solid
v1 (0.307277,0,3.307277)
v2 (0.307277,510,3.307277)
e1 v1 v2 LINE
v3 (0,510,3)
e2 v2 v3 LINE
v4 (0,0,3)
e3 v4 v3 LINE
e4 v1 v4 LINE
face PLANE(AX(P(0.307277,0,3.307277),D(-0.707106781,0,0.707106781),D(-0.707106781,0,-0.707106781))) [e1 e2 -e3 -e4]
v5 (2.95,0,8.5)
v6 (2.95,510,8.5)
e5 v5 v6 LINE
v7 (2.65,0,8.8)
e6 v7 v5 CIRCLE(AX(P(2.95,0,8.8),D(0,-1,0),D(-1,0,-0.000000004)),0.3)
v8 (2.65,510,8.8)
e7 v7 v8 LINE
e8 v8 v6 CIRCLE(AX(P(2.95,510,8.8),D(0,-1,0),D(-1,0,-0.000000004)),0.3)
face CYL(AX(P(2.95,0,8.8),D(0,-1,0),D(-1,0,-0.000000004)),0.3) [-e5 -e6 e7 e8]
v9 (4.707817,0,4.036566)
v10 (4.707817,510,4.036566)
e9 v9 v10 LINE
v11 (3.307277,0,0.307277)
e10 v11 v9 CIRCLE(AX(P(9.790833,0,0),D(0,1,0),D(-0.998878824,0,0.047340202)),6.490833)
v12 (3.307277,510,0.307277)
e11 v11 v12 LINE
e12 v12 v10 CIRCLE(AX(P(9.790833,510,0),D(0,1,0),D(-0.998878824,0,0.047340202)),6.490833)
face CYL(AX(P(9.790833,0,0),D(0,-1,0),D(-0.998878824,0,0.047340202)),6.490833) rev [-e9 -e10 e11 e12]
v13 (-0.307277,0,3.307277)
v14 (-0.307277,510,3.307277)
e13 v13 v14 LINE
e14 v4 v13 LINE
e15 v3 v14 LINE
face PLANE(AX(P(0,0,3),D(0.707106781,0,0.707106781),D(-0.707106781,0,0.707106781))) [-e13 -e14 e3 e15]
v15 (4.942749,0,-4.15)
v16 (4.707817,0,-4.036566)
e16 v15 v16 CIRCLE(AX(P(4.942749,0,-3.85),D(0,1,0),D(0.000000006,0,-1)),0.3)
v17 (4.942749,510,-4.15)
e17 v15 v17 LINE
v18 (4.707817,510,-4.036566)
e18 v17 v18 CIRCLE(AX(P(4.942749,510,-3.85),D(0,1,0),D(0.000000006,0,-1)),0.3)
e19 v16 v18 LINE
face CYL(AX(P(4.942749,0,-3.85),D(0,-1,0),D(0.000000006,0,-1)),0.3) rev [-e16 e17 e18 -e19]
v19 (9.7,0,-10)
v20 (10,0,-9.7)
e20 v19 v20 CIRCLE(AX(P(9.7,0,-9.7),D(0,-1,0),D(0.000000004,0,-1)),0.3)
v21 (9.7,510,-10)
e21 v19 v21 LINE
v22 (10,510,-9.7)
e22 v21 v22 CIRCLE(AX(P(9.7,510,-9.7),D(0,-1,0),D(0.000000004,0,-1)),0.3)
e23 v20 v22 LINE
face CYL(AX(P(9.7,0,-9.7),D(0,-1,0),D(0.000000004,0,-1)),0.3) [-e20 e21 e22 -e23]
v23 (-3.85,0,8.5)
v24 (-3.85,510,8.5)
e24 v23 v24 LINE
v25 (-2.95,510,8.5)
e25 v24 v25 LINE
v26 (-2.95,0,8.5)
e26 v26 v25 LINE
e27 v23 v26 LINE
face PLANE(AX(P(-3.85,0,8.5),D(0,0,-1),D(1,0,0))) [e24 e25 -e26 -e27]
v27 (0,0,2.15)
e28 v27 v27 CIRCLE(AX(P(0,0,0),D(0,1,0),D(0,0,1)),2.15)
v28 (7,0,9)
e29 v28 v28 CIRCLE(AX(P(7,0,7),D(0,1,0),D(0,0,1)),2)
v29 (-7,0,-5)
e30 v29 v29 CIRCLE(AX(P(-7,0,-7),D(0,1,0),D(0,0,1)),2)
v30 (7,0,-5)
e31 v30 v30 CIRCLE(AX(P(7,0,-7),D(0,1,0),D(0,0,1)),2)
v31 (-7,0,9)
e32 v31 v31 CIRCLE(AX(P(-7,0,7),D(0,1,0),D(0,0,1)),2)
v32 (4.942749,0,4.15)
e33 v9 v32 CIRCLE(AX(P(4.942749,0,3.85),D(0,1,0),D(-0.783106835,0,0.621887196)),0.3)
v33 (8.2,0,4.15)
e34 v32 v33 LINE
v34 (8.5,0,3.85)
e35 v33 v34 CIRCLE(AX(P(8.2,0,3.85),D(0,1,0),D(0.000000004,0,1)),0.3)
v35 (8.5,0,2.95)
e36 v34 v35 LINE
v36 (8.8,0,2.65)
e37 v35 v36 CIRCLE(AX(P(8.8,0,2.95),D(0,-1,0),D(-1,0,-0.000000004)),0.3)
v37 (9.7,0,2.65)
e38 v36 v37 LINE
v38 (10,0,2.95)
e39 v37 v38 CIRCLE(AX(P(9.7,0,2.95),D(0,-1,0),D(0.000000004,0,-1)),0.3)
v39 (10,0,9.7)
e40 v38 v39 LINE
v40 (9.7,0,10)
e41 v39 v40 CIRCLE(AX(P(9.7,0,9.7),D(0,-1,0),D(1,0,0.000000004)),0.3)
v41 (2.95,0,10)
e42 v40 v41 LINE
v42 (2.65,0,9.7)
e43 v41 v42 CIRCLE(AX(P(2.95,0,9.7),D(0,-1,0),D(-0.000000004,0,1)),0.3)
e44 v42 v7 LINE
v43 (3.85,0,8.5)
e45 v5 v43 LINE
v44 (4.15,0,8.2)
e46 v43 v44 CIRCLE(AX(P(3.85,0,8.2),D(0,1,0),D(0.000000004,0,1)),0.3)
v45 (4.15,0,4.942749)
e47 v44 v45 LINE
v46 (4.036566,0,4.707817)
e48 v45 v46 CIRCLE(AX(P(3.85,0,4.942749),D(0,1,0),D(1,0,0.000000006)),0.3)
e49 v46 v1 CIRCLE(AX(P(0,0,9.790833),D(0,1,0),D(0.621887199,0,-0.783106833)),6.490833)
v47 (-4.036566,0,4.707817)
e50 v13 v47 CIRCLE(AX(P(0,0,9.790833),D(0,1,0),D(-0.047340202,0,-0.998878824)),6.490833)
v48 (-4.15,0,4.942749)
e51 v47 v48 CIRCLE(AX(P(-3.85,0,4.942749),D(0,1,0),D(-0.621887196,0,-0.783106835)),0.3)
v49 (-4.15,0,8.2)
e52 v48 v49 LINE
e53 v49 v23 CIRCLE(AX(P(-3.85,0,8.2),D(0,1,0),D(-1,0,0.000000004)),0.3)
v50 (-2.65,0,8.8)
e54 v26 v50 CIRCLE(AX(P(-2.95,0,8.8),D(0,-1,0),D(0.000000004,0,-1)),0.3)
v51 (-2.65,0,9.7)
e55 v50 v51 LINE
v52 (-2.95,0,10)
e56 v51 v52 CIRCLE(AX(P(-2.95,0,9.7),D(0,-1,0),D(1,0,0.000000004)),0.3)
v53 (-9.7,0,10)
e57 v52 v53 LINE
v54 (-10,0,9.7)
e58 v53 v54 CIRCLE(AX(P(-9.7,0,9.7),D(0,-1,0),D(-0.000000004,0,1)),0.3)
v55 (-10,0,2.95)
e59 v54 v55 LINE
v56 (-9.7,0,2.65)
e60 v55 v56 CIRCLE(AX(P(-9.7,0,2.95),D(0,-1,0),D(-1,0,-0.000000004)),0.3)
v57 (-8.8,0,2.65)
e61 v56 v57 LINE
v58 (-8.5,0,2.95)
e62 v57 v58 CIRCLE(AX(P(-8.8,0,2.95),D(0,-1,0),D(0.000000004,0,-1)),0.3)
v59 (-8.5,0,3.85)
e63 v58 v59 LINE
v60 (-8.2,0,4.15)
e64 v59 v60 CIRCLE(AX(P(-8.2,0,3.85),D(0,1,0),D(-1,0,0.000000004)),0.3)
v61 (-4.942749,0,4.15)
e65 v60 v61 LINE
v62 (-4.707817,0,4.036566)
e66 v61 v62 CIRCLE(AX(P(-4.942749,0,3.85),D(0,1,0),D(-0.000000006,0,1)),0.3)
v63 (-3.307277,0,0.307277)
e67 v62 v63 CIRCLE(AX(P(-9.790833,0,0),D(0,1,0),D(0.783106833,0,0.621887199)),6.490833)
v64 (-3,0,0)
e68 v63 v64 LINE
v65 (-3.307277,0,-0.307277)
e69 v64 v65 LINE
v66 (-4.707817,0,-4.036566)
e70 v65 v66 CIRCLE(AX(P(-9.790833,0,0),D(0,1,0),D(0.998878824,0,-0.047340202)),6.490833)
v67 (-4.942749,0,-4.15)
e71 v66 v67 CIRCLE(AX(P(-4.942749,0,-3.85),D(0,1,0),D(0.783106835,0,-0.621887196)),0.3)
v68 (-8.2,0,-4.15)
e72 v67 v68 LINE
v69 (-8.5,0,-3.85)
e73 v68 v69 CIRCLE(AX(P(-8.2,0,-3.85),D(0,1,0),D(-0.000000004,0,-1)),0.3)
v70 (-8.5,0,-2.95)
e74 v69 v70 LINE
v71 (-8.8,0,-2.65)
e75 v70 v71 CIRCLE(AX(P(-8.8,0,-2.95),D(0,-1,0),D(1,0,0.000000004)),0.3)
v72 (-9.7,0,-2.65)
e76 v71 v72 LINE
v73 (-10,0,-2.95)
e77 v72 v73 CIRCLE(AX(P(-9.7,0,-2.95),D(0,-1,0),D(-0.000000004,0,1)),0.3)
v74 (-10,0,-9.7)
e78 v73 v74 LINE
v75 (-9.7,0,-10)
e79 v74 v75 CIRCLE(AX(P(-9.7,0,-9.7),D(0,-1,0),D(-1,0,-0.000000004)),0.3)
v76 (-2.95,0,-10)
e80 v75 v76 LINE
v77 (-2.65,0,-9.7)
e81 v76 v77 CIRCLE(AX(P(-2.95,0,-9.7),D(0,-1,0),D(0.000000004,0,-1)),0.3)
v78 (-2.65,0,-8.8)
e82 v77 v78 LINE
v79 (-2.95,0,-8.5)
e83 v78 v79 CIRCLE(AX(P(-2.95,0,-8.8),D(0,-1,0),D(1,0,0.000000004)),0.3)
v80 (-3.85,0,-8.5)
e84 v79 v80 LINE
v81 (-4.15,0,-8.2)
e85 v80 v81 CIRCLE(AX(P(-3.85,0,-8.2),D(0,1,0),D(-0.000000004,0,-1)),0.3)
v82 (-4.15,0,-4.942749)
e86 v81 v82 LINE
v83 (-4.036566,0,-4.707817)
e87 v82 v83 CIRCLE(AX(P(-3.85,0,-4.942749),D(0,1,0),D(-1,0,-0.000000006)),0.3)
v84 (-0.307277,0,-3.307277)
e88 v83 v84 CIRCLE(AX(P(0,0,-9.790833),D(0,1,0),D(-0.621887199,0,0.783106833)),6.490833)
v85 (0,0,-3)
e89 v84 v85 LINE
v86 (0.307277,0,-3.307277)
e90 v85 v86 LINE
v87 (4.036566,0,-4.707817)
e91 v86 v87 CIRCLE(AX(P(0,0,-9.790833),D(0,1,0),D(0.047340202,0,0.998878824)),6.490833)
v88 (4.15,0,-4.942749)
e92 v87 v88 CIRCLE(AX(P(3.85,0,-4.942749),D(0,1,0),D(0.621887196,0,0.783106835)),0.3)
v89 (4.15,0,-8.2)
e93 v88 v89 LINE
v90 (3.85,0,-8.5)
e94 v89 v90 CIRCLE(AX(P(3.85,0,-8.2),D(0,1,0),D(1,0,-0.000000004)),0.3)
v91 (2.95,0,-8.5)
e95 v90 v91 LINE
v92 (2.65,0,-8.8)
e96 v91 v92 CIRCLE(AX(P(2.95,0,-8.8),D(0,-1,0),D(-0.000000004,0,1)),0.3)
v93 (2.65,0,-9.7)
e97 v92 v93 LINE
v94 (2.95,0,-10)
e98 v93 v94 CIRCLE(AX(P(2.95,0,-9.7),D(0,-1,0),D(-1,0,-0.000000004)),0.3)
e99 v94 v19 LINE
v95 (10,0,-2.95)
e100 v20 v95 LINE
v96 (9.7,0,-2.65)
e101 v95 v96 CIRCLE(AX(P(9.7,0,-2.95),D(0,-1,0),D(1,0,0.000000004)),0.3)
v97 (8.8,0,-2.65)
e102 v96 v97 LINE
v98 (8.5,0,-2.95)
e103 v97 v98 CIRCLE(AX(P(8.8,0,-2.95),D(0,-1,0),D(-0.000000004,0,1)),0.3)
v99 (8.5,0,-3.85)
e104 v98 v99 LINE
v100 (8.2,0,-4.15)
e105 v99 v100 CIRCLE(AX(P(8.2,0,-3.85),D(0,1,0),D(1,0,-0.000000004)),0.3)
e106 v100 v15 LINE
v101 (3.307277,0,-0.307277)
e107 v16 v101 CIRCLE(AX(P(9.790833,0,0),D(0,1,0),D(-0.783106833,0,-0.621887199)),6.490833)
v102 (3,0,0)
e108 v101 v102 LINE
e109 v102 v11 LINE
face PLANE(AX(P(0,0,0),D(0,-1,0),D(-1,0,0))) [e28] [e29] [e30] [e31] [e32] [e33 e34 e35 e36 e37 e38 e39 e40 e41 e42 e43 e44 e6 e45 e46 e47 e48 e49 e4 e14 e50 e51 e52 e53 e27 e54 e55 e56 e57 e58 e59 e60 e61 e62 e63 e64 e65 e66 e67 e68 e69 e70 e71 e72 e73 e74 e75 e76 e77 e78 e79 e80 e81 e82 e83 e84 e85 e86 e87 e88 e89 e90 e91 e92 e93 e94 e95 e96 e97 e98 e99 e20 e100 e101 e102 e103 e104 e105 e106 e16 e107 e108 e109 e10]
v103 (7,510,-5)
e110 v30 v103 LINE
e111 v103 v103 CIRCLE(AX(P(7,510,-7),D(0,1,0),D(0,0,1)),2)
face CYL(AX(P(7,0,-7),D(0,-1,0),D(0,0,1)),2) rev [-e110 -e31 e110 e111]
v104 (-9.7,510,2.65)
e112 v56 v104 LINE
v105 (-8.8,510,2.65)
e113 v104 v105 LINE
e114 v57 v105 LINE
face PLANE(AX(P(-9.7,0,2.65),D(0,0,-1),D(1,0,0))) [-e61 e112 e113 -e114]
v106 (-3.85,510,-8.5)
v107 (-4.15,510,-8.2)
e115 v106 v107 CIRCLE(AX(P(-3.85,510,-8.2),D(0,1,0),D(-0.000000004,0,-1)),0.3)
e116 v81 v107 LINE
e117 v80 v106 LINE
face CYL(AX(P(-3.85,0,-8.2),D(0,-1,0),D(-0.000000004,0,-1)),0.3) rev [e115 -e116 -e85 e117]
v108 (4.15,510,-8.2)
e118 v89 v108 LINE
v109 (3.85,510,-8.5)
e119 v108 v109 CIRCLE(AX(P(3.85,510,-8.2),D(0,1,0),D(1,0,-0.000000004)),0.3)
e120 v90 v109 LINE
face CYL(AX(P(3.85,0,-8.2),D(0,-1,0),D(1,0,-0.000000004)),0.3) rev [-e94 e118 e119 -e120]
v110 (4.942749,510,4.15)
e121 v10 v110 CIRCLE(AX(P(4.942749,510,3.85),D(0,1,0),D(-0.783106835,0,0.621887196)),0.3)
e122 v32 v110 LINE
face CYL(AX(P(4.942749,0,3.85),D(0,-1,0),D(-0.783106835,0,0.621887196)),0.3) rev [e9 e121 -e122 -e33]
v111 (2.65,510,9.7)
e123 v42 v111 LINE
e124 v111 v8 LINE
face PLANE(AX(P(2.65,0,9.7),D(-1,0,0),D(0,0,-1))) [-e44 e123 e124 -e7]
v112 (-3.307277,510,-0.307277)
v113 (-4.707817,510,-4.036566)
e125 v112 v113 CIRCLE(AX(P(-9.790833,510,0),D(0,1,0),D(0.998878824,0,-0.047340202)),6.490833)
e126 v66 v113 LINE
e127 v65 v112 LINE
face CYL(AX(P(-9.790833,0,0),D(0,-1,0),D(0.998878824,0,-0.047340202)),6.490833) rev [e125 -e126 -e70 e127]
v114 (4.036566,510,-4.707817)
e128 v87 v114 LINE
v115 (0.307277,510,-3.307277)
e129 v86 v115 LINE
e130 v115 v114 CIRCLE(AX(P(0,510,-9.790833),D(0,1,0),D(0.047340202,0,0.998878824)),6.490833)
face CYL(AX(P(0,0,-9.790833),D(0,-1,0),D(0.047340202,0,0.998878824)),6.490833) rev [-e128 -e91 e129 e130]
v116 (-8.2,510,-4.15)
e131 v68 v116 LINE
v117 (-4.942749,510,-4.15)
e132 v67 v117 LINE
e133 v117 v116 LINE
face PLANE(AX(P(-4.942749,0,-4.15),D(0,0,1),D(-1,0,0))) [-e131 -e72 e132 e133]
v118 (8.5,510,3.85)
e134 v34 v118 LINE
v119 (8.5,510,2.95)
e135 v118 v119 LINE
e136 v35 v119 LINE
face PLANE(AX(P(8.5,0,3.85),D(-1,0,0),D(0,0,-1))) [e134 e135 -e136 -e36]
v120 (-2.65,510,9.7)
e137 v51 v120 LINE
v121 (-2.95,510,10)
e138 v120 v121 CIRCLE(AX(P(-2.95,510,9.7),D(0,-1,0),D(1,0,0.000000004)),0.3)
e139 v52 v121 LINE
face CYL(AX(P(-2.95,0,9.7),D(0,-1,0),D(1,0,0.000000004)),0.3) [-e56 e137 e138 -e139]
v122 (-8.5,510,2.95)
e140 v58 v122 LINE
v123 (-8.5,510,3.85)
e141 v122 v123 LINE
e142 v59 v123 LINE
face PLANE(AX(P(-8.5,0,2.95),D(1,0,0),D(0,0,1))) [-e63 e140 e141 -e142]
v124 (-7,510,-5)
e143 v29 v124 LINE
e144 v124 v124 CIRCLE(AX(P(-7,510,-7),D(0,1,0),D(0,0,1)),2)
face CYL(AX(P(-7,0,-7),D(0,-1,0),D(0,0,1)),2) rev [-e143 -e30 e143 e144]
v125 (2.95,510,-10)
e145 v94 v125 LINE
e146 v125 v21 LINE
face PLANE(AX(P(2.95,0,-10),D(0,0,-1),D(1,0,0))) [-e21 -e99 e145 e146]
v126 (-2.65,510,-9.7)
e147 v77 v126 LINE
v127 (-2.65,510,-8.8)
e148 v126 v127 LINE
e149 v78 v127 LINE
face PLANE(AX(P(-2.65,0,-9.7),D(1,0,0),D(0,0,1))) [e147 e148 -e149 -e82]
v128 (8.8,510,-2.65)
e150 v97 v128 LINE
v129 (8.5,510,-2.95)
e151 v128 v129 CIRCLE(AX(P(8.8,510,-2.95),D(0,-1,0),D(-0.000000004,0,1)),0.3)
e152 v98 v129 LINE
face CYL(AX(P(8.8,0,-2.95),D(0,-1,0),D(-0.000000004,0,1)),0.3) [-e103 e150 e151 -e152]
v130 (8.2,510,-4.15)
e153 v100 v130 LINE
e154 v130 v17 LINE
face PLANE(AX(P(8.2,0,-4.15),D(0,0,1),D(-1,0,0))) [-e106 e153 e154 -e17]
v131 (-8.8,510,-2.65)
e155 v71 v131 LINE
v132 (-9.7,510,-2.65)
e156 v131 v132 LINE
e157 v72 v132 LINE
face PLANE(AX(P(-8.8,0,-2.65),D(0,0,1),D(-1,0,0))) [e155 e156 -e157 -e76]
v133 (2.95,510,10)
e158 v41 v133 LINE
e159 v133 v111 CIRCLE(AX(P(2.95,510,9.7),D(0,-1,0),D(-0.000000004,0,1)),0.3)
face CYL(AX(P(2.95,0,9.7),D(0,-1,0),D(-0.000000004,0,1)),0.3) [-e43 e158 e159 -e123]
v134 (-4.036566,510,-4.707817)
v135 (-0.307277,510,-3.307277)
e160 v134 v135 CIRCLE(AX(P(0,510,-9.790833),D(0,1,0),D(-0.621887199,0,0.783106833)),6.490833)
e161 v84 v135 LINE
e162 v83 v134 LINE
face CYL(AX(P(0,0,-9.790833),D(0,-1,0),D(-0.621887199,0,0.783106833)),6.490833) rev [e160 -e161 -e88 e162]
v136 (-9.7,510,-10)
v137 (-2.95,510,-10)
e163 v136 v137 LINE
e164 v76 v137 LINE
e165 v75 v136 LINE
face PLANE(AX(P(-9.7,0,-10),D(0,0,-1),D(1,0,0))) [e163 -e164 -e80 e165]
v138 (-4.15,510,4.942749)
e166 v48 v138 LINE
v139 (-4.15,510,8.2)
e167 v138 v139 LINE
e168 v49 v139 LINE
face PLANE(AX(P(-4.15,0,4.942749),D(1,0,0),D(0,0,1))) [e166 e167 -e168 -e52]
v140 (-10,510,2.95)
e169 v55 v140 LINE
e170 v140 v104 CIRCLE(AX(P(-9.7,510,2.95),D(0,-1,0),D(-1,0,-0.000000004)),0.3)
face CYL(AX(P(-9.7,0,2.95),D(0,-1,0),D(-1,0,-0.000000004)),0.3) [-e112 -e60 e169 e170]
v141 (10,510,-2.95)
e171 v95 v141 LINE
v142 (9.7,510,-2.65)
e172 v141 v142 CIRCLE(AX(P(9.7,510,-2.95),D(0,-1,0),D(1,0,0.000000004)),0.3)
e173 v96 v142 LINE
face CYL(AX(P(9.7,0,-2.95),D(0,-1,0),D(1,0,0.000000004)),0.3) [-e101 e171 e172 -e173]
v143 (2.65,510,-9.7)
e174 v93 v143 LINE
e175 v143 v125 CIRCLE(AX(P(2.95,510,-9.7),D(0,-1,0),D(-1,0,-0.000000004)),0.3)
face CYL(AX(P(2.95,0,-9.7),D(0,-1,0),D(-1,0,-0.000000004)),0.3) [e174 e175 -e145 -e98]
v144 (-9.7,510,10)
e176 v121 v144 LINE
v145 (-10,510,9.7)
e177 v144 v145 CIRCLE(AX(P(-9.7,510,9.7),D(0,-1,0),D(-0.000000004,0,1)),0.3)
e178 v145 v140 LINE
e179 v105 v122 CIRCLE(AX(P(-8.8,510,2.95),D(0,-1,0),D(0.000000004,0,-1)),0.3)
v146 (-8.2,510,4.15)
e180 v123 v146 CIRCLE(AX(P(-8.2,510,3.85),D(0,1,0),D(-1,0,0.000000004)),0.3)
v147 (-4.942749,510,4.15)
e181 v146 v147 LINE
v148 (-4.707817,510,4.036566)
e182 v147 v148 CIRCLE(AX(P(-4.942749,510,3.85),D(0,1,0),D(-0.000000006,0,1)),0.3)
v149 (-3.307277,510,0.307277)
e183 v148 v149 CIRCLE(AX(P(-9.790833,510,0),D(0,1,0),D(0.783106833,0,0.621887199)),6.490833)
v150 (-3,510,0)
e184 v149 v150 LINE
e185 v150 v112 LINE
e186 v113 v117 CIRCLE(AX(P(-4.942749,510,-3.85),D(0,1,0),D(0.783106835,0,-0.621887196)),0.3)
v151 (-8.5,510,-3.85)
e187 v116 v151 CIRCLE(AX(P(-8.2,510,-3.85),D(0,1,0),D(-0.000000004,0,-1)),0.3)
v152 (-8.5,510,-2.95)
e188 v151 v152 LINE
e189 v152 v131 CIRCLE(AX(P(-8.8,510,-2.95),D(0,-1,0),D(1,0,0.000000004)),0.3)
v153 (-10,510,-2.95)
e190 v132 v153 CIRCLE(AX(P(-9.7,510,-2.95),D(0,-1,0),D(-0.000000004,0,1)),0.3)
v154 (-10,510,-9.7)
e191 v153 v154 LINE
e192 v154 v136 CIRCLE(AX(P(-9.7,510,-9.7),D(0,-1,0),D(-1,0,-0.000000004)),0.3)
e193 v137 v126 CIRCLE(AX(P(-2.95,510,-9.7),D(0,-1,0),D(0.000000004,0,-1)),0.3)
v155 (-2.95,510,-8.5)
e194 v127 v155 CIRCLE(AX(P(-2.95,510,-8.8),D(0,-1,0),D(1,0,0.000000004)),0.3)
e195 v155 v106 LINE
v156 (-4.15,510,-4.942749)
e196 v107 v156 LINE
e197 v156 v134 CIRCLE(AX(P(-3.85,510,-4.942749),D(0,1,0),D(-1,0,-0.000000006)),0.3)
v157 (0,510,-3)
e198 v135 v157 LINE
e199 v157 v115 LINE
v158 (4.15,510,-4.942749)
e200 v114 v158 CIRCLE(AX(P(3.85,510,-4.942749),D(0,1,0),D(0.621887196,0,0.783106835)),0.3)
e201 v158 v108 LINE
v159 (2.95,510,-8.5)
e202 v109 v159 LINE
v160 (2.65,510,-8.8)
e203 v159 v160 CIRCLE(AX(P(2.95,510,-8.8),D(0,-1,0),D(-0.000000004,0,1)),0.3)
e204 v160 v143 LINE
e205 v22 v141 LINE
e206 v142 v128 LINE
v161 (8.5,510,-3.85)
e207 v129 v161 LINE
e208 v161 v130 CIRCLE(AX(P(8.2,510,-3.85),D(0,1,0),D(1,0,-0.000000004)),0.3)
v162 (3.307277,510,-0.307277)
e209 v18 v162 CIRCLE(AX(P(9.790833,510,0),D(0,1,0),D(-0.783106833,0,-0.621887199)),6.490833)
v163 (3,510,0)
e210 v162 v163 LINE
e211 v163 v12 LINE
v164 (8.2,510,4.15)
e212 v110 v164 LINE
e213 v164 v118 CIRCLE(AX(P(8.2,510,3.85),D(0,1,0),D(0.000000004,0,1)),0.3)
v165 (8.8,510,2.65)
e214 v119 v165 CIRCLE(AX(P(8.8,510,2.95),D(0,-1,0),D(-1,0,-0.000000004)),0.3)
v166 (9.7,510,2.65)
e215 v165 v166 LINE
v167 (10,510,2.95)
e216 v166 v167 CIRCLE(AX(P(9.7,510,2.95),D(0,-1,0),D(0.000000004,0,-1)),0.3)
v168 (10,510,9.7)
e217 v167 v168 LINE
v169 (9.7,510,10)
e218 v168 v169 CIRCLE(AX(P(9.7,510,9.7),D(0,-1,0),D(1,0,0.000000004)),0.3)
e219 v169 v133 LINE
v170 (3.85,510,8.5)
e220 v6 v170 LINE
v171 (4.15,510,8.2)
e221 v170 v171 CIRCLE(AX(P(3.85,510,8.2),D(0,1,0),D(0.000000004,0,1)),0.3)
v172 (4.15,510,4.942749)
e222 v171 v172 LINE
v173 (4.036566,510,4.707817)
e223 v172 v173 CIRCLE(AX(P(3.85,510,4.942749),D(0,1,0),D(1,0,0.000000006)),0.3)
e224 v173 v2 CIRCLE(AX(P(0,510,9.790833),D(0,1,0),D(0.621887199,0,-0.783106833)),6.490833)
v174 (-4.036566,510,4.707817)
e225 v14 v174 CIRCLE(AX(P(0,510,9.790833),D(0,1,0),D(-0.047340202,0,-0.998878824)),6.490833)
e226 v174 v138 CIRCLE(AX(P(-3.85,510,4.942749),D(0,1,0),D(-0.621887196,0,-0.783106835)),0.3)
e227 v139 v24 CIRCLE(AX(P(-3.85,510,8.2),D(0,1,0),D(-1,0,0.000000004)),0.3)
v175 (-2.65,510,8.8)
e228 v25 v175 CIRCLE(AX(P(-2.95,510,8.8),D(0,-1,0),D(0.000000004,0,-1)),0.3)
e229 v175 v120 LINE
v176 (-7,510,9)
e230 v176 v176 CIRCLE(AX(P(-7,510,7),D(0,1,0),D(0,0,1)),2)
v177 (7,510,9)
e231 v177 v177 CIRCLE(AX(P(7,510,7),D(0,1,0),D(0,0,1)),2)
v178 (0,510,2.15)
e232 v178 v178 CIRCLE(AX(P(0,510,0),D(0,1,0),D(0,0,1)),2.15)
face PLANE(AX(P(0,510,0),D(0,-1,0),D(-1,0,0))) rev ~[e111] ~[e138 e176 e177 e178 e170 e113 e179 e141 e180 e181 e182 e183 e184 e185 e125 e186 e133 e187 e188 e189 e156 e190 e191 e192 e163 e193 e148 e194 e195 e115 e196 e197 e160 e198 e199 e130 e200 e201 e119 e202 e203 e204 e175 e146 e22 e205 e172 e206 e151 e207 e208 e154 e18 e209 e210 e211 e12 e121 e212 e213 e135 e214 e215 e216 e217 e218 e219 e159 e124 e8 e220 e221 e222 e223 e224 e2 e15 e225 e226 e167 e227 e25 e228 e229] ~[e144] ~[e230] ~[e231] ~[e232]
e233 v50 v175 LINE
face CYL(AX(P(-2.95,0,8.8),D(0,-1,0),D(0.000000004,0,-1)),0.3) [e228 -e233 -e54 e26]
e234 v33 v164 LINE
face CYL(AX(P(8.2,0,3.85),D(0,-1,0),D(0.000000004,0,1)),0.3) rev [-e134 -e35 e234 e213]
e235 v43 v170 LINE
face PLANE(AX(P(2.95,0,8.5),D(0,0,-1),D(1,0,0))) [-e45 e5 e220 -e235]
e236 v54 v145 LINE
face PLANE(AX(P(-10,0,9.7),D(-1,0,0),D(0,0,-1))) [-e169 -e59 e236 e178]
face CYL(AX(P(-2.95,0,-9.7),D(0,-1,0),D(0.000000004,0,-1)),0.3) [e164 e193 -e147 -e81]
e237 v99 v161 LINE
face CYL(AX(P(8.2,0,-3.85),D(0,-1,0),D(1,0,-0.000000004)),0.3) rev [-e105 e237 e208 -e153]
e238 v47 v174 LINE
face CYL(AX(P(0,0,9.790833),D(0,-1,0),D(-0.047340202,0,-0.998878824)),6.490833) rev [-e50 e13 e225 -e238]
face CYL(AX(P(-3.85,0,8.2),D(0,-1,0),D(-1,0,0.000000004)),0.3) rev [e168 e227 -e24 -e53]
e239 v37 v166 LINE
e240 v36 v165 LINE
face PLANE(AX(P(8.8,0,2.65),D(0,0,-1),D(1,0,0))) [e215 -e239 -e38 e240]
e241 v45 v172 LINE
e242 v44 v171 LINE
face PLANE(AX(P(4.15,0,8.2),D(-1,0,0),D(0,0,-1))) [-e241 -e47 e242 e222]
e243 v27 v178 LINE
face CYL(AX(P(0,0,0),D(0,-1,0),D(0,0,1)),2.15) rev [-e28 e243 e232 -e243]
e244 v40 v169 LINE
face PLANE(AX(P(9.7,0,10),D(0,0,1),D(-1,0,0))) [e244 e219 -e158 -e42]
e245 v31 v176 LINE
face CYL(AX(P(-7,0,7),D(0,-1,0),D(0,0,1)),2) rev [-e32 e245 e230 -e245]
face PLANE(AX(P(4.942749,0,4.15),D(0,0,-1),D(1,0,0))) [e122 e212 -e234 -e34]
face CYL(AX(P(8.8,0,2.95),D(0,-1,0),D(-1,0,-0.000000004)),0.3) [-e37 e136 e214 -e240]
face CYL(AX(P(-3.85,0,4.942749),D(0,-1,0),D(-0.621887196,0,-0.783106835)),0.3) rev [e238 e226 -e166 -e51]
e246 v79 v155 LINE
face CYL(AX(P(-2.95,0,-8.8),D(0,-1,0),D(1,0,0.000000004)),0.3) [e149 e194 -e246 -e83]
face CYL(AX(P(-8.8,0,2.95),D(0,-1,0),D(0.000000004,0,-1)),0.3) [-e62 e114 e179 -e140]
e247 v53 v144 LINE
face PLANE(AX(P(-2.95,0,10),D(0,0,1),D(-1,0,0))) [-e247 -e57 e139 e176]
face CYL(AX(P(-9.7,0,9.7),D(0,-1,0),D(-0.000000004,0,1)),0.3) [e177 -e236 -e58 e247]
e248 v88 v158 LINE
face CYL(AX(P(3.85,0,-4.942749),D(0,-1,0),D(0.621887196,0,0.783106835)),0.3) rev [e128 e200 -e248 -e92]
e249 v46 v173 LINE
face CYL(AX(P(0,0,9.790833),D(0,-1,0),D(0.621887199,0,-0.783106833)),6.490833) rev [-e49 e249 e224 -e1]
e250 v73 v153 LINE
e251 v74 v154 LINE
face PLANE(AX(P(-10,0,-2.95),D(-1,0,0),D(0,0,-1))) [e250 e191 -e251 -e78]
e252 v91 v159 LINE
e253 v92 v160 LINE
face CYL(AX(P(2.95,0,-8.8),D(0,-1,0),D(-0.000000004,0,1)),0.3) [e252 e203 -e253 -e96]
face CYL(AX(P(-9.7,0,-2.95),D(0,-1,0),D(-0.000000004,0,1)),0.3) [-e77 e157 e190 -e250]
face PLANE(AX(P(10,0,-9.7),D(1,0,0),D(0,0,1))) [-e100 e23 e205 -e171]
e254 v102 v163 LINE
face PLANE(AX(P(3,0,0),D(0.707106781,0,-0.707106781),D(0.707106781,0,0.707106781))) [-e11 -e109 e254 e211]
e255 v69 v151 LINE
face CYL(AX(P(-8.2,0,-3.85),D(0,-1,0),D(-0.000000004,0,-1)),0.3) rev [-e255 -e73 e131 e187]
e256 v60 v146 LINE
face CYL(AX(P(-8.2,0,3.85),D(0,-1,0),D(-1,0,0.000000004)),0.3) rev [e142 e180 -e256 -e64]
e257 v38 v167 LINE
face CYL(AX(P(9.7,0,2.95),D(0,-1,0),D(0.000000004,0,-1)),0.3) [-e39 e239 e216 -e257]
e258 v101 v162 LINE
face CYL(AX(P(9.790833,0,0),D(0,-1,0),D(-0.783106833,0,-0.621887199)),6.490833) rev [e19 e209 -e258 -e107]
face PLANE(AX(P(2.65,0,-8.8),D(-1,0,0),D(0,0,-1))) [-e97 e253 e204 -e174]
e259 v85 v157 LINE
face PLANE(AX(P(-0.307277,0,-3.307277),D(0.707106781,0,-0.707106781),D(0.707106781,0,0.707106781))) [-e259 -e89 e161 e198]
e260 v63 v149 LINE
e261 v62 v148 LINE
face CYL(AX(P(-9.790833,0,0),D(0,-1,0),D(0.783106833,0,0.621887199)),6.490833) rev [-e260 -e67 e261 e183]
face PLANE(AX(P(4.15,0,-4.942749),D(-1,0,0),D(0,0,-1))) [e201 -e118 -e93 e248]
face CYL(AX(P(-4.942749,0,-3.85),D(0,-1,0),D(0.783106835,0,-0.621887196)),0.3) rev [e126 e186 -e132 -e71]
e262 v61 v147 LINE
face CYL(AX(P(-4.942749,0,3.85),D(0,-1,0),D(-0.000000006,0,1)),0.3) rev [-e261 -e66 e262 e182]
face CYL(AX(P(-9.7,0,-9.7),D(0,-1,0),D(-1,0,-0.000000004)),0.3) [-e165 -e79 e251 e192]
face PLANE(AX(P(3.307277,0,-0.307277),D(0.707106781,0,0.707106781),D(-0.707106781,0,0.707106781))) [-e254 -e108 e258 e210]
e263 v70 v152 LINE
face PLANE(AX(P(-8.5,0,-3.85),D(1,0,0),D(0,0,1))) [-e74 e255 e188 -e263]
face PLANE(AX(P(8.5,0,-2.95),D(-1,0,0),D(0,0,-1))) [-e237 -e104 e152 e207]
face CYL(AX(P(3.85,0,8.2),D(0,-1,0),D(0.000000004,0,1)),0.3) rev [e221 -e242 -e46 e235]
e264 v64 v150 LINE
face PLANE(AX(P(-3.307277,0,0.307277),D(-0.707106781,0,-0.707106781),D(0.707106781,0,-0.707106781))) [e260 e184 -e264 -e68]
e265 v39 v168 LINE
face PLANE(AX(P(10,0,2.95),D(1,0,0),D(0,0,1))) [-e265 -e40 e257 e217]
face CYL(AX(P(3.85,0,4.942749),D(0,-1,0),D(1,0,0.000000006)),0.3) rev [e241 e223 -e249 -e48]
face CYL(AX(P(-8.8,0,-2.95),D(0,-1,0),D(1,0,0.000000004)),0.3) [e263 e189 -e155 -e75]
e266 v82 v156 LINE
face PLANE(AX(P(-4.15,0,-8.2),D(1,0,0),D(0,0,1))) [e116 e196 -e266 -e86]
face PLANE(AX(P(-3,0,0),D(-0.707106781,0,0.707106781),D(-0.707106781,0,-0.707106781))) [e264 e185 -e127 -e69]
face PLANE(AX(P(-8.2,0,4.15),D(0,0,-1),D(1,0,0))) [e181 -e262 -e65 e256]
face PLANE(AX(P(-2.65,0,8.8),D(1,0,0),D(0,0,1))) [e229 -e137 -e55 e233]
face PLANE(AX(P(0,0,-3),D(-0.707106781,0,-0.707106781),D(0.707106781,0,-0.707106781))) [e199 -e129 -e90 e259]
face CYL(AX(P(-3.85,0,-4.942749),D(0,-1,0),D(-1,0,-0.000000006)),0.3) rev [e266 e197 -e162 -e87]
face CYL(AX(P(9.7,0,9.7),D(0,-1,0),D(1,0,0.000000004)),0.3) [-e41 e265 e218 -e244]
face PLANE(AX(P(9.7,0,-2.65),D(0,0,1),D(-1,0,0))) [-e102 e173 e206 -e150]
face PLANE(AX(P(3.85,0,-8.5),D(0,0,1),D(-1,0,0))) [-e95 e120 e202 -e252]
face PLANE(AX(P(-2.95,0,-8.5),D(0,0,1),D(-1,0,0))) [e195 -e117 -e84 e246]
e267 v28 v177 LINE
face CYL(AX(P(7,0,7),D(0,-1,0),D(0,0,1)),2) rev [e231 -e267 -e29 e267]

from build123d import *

# Parameters (mm, degrees)
SKETCH_1_R      = 2.15
SKETCH_1_R_2    = 2
EXTRUDE_1_DEPTH = 510


with BuildPart() as part:
    # 스케치1 → 보스-돌출1 (new body)
    with BuildSketch(Plane(origin=(0, 0, 0), x_dir=(1, 0, 0), z_dir=(0, 1, 0))):
        with BuildLine():
            Line((4.15, 4.942749448), (4.15, 8.2))
            ThreePointArc((4.15, 8.2), (4.062132034, 8.412132034), (3.85, 8.5))
            Line((3.85, 8.5), (2.95, 8.5))
            ThreePointArc((2.95, 8.5), (2.737867966, 8.587867966), (2.65, 8.8))
            Line((2.65, 8.8), (2.65, 9.7))
            ThreePointArc((2.65, 9.7), (2.737867966, 9.912132034), (2.95, 10))
            Line((2.95, 10), (9.7, 10))
            ThreePointArc((9.7, 10), (9.912132034, 9.912132034), (10, 9.7))
            Line((10, 9.7), (10, 2.95))
            ThreePointArc((10, 2.95), (9.912132034, 2.737867966), (9.7, 2.65))
            Line((9.7, 2.65), (8.8, 2.65))
            ThreePointArc((8.8, 2.65), (8.587867966, 2.737867966), (8.5, 2.95))
            Line((8.5, 2.95), (8.5, 3.85))
            ThreePointArc((8.5, 3.85), (8.412132034, 4.062132034), (8.2, 4.15))
            Line((8.2, 4.15), (4.942749448, 4.15))
            ThreePointArc((4.942749448, 4.15), (4.812307598, 4.120157221), (4.707817398, 4.03656616))
            ThreePointArc((4.707817398, 4.03656616), (3.714379176, 2.282021525), (3.307277366, 0.307277366))
            Line((3.307277366, 0.307277366), (3, 0))
            Line((3, 0), (3.307277366, -0.307277366))
            ThreePointArc((3.307277366, -0.307277366), (3.714379176, -2.282021525), (4.707817398, -4.03656616))
            ThreePointArc((4.707817398, -4.03656616), (4.812307598, -4.120157221), (4.942749448, -4.15))
            Line((4.942749448, -4.15), (8.2, -4.15))
            ThreePointArc((8.2, -4.15), (8.412132034, -4.062132034), (8.5, -3.85))
            Line((8.5, -3.85), (8.5, -2.95))
            ThreePointArc((8.5, -2.95), (8.587867966, -2.737867966), (8.8, -2.65))
            Line((8.8, -2.65), (9.7, -2.65))
            ThreePointArc((9.7, -2.65), (9.912132034, -2.737867966), (10, -2.95))
            Line((10, -2.95), (10, -9.7))
            ThreePointArc((10, -9.7), (9.912132034, -9.912132034), (9.7, -10))
            Line((9.7, -10), (2.95, -10))
            ThreePointArc((2.95, -10), (2.737867966, -9.912132034), (2.65, -9.7))
            Line((2.65, -9.7), (2.65, -8.8))
            ThreePointArc((2.65, -8.8), (2.737867966, -8.587867966), (2.95, -8.5))
            Line((2.95, -8.5), (3.85, -8.5))
            ThreePointArc((3.85, -8.5), (4.062132034, -8.412132034), (4.15, -8.2))
            Line((4.15, -8.2), (4.15, -4.942749448))
            ThreePointArc((4.15, -4.942749448), (4.120157221, -4.812307598), (4.03656616, -4.707817398))
            ThreePointArc((4.03656616, -4.707817398), (2.282021525, -3.714379176), (0.307277366, -3.307277366))
            Line((0.307277366, -3.307277366), (0, -3))
            Line((0, -3), (-0.307277366, -3.307277366))
            ThreePointArc((-0.307277366, -3.307277366), (-2.282021525, -3.714379176), (-4.03656616, -4.707817398))
            ThreePointArc((-4.03656616, -4.707817398), (-4.120157221, -4.812307598), (-4.15, -4.942749448))
            Line((-4.15, -4.942749448), (-4.15, -8.2))
            ThreePointArc((-4.15, -8.2), (-4.062132034, -8.412132034), (-3.85, -8.5))
            Line((-3.85, -8.5), (-2.95, -8.5))
            ThreePointArc((-2.95, -8.5), (-2.737867966, -8.587867966), (-2.65, -8.8))
            Line((-2.65, -8.8), (-2.65, -9.7))
            ThreePointArc((-2.65, -9.7), (-2.737867966, -9.912132034), (-2.95, -10))
            Line((-2.95, -10), (-9.7, -10))
            ThreePointArc((-9.7, -10), (-9.912132034, -9.912132034), (-10, -9.7))
            Line((-10, -9.7), (-10, -2.95))
            ThreePointArc((-10, -2.95), (-9.912132034, -2.737867966), (-9.7, -2.65))
            Line((-9.7, -2.65), (-8.8, -2.65))
            ThreePointArc((-8.8, -2.65), (-8.587867966, -2.737867966), (-8.5, -2.95))
            Line((-8.5, -2.95), (-8.5, -3.85))
            ThreePointArc((-8.5, -3.85), (-8.412132034, -4.062132034), (-8.2, -4.15))
            Line((-8.2, -4.15), (-4.942749448, -4.15))
            ThreePointArc((-4.942749448, -4.15), (-4.812307598, -4.120157221), (-4.707817398, -4.03656616))
            ThreePointArc((-4.707817398, -4.03656616), (-3.714379176, -2.282021525), (-3.307277366, -0.307277366))
            Line((-3.307277366, -0.307277366), (-3, 0))
            Line((-3, 0), (-3.307277366, 0.307277366))
            ThreePointArc((-3.307277366, 0.307277366), (-3.714379176, 2.282021525), (-4.707817398, 4.03656616))
            ThreePointArc((-4.707817398, 4.03656616), (-4.812307598, 4.120157221), (-4.942749448, 4.15))
            Line((-4.942749448, 4.15), (-8.2, 4.15))
            ThreePointArc((-8.2, 4.15), (-8.412132034, 4.062132034), (-8.5, 3.85))
            Line((-8.5, 3.85), (-8.5, 2.95))
            ThreePointArc((-8.5, 2.95), (-8.587867966, 2.737867966), (-8.8, 2.65))
            Line((-8.8, 2.65), (-9.7, 2.65))
            ThreePointArc((-9.7, 2.65), (-9.912132034, 2.737867966), (-10, 2.95))
            Line((-10, 2.95), (-10, 9.7))
            ThreePointArc((-10, 9.7), (-9.912132034, 9.912132034), (-9.7, 10))
            Line((-9.7, 10), (-2.95, 10))
            ThreePointArc((-2.95, 10), (-2.737867966, 9.912132034), (-2.65, 9.7))
            Line((-2.65, 9.7), (-2.65, 8.8))
            ThreePointArc((-2.65, 8.8), (-2.737867966, 8.587867966), (-2.95, 8.5))
            Line((-2.95, 8.5), (-3.85, 8.5))
            ThreePointArc((-3.85, 8.5), (-4.062132034, 8.412132034), (-4.15, 8.2))
            Line((-4.15, 8.2), (-4.15, 4.942749448))
            ThreePointArc((-4.15, 4.942749448), (-4.120157221, 4.812307598), (-4.03656616, 4.707817398))
            ThreePointArc((-4.03656616, 4.707817398), (-2.282021525, 3.714379176), (-0.307277366, 3.307277366))
            Line((-0.307277366, 3.307277366), (0, 3))
            Line((0, 3), (0.307277366, 3.307277366))
            ThreePointArc((0.307277366, 3.307277366), (2.282021525, 3.714379176), (4.03656616, 4.707817398))
            ThreePointArc((4.03656616, 4.707817398), (4.120157221, 4.812307598), (4.15, 4.942749448))
        make_face()
        with Locations(Location((0, 0, 0), (0, 0, 270))):
            Circle(SKETCH_1_R, mode=Mode.SUBTRACT)
        with Locations(Location((-7, 7, 0), (0, 0, 270))):
            Circle(SKETCH_1_R_2, mode=Mode.SUBTRACT)
        with Locations(Location((-7, -7, 0), (0, 0, 270))):
            Circle(SKETCH_1_R_2, mode=Mode.SUBTRACT)
        with Locations(Location((7, 7, 0), (0, 0, 270))):
            Circle(SKETCH_1_R_2, mode=Mode.SUBTRACT)
        with Locations(Location((7, -7, 0), (0, 0, 270))):
            Circle(SKETCH_1_R_2, mode=Mode.SUBTRACT)
    extrude(amount=EXTRUDE_1_DEPTH)


solid = part.part
